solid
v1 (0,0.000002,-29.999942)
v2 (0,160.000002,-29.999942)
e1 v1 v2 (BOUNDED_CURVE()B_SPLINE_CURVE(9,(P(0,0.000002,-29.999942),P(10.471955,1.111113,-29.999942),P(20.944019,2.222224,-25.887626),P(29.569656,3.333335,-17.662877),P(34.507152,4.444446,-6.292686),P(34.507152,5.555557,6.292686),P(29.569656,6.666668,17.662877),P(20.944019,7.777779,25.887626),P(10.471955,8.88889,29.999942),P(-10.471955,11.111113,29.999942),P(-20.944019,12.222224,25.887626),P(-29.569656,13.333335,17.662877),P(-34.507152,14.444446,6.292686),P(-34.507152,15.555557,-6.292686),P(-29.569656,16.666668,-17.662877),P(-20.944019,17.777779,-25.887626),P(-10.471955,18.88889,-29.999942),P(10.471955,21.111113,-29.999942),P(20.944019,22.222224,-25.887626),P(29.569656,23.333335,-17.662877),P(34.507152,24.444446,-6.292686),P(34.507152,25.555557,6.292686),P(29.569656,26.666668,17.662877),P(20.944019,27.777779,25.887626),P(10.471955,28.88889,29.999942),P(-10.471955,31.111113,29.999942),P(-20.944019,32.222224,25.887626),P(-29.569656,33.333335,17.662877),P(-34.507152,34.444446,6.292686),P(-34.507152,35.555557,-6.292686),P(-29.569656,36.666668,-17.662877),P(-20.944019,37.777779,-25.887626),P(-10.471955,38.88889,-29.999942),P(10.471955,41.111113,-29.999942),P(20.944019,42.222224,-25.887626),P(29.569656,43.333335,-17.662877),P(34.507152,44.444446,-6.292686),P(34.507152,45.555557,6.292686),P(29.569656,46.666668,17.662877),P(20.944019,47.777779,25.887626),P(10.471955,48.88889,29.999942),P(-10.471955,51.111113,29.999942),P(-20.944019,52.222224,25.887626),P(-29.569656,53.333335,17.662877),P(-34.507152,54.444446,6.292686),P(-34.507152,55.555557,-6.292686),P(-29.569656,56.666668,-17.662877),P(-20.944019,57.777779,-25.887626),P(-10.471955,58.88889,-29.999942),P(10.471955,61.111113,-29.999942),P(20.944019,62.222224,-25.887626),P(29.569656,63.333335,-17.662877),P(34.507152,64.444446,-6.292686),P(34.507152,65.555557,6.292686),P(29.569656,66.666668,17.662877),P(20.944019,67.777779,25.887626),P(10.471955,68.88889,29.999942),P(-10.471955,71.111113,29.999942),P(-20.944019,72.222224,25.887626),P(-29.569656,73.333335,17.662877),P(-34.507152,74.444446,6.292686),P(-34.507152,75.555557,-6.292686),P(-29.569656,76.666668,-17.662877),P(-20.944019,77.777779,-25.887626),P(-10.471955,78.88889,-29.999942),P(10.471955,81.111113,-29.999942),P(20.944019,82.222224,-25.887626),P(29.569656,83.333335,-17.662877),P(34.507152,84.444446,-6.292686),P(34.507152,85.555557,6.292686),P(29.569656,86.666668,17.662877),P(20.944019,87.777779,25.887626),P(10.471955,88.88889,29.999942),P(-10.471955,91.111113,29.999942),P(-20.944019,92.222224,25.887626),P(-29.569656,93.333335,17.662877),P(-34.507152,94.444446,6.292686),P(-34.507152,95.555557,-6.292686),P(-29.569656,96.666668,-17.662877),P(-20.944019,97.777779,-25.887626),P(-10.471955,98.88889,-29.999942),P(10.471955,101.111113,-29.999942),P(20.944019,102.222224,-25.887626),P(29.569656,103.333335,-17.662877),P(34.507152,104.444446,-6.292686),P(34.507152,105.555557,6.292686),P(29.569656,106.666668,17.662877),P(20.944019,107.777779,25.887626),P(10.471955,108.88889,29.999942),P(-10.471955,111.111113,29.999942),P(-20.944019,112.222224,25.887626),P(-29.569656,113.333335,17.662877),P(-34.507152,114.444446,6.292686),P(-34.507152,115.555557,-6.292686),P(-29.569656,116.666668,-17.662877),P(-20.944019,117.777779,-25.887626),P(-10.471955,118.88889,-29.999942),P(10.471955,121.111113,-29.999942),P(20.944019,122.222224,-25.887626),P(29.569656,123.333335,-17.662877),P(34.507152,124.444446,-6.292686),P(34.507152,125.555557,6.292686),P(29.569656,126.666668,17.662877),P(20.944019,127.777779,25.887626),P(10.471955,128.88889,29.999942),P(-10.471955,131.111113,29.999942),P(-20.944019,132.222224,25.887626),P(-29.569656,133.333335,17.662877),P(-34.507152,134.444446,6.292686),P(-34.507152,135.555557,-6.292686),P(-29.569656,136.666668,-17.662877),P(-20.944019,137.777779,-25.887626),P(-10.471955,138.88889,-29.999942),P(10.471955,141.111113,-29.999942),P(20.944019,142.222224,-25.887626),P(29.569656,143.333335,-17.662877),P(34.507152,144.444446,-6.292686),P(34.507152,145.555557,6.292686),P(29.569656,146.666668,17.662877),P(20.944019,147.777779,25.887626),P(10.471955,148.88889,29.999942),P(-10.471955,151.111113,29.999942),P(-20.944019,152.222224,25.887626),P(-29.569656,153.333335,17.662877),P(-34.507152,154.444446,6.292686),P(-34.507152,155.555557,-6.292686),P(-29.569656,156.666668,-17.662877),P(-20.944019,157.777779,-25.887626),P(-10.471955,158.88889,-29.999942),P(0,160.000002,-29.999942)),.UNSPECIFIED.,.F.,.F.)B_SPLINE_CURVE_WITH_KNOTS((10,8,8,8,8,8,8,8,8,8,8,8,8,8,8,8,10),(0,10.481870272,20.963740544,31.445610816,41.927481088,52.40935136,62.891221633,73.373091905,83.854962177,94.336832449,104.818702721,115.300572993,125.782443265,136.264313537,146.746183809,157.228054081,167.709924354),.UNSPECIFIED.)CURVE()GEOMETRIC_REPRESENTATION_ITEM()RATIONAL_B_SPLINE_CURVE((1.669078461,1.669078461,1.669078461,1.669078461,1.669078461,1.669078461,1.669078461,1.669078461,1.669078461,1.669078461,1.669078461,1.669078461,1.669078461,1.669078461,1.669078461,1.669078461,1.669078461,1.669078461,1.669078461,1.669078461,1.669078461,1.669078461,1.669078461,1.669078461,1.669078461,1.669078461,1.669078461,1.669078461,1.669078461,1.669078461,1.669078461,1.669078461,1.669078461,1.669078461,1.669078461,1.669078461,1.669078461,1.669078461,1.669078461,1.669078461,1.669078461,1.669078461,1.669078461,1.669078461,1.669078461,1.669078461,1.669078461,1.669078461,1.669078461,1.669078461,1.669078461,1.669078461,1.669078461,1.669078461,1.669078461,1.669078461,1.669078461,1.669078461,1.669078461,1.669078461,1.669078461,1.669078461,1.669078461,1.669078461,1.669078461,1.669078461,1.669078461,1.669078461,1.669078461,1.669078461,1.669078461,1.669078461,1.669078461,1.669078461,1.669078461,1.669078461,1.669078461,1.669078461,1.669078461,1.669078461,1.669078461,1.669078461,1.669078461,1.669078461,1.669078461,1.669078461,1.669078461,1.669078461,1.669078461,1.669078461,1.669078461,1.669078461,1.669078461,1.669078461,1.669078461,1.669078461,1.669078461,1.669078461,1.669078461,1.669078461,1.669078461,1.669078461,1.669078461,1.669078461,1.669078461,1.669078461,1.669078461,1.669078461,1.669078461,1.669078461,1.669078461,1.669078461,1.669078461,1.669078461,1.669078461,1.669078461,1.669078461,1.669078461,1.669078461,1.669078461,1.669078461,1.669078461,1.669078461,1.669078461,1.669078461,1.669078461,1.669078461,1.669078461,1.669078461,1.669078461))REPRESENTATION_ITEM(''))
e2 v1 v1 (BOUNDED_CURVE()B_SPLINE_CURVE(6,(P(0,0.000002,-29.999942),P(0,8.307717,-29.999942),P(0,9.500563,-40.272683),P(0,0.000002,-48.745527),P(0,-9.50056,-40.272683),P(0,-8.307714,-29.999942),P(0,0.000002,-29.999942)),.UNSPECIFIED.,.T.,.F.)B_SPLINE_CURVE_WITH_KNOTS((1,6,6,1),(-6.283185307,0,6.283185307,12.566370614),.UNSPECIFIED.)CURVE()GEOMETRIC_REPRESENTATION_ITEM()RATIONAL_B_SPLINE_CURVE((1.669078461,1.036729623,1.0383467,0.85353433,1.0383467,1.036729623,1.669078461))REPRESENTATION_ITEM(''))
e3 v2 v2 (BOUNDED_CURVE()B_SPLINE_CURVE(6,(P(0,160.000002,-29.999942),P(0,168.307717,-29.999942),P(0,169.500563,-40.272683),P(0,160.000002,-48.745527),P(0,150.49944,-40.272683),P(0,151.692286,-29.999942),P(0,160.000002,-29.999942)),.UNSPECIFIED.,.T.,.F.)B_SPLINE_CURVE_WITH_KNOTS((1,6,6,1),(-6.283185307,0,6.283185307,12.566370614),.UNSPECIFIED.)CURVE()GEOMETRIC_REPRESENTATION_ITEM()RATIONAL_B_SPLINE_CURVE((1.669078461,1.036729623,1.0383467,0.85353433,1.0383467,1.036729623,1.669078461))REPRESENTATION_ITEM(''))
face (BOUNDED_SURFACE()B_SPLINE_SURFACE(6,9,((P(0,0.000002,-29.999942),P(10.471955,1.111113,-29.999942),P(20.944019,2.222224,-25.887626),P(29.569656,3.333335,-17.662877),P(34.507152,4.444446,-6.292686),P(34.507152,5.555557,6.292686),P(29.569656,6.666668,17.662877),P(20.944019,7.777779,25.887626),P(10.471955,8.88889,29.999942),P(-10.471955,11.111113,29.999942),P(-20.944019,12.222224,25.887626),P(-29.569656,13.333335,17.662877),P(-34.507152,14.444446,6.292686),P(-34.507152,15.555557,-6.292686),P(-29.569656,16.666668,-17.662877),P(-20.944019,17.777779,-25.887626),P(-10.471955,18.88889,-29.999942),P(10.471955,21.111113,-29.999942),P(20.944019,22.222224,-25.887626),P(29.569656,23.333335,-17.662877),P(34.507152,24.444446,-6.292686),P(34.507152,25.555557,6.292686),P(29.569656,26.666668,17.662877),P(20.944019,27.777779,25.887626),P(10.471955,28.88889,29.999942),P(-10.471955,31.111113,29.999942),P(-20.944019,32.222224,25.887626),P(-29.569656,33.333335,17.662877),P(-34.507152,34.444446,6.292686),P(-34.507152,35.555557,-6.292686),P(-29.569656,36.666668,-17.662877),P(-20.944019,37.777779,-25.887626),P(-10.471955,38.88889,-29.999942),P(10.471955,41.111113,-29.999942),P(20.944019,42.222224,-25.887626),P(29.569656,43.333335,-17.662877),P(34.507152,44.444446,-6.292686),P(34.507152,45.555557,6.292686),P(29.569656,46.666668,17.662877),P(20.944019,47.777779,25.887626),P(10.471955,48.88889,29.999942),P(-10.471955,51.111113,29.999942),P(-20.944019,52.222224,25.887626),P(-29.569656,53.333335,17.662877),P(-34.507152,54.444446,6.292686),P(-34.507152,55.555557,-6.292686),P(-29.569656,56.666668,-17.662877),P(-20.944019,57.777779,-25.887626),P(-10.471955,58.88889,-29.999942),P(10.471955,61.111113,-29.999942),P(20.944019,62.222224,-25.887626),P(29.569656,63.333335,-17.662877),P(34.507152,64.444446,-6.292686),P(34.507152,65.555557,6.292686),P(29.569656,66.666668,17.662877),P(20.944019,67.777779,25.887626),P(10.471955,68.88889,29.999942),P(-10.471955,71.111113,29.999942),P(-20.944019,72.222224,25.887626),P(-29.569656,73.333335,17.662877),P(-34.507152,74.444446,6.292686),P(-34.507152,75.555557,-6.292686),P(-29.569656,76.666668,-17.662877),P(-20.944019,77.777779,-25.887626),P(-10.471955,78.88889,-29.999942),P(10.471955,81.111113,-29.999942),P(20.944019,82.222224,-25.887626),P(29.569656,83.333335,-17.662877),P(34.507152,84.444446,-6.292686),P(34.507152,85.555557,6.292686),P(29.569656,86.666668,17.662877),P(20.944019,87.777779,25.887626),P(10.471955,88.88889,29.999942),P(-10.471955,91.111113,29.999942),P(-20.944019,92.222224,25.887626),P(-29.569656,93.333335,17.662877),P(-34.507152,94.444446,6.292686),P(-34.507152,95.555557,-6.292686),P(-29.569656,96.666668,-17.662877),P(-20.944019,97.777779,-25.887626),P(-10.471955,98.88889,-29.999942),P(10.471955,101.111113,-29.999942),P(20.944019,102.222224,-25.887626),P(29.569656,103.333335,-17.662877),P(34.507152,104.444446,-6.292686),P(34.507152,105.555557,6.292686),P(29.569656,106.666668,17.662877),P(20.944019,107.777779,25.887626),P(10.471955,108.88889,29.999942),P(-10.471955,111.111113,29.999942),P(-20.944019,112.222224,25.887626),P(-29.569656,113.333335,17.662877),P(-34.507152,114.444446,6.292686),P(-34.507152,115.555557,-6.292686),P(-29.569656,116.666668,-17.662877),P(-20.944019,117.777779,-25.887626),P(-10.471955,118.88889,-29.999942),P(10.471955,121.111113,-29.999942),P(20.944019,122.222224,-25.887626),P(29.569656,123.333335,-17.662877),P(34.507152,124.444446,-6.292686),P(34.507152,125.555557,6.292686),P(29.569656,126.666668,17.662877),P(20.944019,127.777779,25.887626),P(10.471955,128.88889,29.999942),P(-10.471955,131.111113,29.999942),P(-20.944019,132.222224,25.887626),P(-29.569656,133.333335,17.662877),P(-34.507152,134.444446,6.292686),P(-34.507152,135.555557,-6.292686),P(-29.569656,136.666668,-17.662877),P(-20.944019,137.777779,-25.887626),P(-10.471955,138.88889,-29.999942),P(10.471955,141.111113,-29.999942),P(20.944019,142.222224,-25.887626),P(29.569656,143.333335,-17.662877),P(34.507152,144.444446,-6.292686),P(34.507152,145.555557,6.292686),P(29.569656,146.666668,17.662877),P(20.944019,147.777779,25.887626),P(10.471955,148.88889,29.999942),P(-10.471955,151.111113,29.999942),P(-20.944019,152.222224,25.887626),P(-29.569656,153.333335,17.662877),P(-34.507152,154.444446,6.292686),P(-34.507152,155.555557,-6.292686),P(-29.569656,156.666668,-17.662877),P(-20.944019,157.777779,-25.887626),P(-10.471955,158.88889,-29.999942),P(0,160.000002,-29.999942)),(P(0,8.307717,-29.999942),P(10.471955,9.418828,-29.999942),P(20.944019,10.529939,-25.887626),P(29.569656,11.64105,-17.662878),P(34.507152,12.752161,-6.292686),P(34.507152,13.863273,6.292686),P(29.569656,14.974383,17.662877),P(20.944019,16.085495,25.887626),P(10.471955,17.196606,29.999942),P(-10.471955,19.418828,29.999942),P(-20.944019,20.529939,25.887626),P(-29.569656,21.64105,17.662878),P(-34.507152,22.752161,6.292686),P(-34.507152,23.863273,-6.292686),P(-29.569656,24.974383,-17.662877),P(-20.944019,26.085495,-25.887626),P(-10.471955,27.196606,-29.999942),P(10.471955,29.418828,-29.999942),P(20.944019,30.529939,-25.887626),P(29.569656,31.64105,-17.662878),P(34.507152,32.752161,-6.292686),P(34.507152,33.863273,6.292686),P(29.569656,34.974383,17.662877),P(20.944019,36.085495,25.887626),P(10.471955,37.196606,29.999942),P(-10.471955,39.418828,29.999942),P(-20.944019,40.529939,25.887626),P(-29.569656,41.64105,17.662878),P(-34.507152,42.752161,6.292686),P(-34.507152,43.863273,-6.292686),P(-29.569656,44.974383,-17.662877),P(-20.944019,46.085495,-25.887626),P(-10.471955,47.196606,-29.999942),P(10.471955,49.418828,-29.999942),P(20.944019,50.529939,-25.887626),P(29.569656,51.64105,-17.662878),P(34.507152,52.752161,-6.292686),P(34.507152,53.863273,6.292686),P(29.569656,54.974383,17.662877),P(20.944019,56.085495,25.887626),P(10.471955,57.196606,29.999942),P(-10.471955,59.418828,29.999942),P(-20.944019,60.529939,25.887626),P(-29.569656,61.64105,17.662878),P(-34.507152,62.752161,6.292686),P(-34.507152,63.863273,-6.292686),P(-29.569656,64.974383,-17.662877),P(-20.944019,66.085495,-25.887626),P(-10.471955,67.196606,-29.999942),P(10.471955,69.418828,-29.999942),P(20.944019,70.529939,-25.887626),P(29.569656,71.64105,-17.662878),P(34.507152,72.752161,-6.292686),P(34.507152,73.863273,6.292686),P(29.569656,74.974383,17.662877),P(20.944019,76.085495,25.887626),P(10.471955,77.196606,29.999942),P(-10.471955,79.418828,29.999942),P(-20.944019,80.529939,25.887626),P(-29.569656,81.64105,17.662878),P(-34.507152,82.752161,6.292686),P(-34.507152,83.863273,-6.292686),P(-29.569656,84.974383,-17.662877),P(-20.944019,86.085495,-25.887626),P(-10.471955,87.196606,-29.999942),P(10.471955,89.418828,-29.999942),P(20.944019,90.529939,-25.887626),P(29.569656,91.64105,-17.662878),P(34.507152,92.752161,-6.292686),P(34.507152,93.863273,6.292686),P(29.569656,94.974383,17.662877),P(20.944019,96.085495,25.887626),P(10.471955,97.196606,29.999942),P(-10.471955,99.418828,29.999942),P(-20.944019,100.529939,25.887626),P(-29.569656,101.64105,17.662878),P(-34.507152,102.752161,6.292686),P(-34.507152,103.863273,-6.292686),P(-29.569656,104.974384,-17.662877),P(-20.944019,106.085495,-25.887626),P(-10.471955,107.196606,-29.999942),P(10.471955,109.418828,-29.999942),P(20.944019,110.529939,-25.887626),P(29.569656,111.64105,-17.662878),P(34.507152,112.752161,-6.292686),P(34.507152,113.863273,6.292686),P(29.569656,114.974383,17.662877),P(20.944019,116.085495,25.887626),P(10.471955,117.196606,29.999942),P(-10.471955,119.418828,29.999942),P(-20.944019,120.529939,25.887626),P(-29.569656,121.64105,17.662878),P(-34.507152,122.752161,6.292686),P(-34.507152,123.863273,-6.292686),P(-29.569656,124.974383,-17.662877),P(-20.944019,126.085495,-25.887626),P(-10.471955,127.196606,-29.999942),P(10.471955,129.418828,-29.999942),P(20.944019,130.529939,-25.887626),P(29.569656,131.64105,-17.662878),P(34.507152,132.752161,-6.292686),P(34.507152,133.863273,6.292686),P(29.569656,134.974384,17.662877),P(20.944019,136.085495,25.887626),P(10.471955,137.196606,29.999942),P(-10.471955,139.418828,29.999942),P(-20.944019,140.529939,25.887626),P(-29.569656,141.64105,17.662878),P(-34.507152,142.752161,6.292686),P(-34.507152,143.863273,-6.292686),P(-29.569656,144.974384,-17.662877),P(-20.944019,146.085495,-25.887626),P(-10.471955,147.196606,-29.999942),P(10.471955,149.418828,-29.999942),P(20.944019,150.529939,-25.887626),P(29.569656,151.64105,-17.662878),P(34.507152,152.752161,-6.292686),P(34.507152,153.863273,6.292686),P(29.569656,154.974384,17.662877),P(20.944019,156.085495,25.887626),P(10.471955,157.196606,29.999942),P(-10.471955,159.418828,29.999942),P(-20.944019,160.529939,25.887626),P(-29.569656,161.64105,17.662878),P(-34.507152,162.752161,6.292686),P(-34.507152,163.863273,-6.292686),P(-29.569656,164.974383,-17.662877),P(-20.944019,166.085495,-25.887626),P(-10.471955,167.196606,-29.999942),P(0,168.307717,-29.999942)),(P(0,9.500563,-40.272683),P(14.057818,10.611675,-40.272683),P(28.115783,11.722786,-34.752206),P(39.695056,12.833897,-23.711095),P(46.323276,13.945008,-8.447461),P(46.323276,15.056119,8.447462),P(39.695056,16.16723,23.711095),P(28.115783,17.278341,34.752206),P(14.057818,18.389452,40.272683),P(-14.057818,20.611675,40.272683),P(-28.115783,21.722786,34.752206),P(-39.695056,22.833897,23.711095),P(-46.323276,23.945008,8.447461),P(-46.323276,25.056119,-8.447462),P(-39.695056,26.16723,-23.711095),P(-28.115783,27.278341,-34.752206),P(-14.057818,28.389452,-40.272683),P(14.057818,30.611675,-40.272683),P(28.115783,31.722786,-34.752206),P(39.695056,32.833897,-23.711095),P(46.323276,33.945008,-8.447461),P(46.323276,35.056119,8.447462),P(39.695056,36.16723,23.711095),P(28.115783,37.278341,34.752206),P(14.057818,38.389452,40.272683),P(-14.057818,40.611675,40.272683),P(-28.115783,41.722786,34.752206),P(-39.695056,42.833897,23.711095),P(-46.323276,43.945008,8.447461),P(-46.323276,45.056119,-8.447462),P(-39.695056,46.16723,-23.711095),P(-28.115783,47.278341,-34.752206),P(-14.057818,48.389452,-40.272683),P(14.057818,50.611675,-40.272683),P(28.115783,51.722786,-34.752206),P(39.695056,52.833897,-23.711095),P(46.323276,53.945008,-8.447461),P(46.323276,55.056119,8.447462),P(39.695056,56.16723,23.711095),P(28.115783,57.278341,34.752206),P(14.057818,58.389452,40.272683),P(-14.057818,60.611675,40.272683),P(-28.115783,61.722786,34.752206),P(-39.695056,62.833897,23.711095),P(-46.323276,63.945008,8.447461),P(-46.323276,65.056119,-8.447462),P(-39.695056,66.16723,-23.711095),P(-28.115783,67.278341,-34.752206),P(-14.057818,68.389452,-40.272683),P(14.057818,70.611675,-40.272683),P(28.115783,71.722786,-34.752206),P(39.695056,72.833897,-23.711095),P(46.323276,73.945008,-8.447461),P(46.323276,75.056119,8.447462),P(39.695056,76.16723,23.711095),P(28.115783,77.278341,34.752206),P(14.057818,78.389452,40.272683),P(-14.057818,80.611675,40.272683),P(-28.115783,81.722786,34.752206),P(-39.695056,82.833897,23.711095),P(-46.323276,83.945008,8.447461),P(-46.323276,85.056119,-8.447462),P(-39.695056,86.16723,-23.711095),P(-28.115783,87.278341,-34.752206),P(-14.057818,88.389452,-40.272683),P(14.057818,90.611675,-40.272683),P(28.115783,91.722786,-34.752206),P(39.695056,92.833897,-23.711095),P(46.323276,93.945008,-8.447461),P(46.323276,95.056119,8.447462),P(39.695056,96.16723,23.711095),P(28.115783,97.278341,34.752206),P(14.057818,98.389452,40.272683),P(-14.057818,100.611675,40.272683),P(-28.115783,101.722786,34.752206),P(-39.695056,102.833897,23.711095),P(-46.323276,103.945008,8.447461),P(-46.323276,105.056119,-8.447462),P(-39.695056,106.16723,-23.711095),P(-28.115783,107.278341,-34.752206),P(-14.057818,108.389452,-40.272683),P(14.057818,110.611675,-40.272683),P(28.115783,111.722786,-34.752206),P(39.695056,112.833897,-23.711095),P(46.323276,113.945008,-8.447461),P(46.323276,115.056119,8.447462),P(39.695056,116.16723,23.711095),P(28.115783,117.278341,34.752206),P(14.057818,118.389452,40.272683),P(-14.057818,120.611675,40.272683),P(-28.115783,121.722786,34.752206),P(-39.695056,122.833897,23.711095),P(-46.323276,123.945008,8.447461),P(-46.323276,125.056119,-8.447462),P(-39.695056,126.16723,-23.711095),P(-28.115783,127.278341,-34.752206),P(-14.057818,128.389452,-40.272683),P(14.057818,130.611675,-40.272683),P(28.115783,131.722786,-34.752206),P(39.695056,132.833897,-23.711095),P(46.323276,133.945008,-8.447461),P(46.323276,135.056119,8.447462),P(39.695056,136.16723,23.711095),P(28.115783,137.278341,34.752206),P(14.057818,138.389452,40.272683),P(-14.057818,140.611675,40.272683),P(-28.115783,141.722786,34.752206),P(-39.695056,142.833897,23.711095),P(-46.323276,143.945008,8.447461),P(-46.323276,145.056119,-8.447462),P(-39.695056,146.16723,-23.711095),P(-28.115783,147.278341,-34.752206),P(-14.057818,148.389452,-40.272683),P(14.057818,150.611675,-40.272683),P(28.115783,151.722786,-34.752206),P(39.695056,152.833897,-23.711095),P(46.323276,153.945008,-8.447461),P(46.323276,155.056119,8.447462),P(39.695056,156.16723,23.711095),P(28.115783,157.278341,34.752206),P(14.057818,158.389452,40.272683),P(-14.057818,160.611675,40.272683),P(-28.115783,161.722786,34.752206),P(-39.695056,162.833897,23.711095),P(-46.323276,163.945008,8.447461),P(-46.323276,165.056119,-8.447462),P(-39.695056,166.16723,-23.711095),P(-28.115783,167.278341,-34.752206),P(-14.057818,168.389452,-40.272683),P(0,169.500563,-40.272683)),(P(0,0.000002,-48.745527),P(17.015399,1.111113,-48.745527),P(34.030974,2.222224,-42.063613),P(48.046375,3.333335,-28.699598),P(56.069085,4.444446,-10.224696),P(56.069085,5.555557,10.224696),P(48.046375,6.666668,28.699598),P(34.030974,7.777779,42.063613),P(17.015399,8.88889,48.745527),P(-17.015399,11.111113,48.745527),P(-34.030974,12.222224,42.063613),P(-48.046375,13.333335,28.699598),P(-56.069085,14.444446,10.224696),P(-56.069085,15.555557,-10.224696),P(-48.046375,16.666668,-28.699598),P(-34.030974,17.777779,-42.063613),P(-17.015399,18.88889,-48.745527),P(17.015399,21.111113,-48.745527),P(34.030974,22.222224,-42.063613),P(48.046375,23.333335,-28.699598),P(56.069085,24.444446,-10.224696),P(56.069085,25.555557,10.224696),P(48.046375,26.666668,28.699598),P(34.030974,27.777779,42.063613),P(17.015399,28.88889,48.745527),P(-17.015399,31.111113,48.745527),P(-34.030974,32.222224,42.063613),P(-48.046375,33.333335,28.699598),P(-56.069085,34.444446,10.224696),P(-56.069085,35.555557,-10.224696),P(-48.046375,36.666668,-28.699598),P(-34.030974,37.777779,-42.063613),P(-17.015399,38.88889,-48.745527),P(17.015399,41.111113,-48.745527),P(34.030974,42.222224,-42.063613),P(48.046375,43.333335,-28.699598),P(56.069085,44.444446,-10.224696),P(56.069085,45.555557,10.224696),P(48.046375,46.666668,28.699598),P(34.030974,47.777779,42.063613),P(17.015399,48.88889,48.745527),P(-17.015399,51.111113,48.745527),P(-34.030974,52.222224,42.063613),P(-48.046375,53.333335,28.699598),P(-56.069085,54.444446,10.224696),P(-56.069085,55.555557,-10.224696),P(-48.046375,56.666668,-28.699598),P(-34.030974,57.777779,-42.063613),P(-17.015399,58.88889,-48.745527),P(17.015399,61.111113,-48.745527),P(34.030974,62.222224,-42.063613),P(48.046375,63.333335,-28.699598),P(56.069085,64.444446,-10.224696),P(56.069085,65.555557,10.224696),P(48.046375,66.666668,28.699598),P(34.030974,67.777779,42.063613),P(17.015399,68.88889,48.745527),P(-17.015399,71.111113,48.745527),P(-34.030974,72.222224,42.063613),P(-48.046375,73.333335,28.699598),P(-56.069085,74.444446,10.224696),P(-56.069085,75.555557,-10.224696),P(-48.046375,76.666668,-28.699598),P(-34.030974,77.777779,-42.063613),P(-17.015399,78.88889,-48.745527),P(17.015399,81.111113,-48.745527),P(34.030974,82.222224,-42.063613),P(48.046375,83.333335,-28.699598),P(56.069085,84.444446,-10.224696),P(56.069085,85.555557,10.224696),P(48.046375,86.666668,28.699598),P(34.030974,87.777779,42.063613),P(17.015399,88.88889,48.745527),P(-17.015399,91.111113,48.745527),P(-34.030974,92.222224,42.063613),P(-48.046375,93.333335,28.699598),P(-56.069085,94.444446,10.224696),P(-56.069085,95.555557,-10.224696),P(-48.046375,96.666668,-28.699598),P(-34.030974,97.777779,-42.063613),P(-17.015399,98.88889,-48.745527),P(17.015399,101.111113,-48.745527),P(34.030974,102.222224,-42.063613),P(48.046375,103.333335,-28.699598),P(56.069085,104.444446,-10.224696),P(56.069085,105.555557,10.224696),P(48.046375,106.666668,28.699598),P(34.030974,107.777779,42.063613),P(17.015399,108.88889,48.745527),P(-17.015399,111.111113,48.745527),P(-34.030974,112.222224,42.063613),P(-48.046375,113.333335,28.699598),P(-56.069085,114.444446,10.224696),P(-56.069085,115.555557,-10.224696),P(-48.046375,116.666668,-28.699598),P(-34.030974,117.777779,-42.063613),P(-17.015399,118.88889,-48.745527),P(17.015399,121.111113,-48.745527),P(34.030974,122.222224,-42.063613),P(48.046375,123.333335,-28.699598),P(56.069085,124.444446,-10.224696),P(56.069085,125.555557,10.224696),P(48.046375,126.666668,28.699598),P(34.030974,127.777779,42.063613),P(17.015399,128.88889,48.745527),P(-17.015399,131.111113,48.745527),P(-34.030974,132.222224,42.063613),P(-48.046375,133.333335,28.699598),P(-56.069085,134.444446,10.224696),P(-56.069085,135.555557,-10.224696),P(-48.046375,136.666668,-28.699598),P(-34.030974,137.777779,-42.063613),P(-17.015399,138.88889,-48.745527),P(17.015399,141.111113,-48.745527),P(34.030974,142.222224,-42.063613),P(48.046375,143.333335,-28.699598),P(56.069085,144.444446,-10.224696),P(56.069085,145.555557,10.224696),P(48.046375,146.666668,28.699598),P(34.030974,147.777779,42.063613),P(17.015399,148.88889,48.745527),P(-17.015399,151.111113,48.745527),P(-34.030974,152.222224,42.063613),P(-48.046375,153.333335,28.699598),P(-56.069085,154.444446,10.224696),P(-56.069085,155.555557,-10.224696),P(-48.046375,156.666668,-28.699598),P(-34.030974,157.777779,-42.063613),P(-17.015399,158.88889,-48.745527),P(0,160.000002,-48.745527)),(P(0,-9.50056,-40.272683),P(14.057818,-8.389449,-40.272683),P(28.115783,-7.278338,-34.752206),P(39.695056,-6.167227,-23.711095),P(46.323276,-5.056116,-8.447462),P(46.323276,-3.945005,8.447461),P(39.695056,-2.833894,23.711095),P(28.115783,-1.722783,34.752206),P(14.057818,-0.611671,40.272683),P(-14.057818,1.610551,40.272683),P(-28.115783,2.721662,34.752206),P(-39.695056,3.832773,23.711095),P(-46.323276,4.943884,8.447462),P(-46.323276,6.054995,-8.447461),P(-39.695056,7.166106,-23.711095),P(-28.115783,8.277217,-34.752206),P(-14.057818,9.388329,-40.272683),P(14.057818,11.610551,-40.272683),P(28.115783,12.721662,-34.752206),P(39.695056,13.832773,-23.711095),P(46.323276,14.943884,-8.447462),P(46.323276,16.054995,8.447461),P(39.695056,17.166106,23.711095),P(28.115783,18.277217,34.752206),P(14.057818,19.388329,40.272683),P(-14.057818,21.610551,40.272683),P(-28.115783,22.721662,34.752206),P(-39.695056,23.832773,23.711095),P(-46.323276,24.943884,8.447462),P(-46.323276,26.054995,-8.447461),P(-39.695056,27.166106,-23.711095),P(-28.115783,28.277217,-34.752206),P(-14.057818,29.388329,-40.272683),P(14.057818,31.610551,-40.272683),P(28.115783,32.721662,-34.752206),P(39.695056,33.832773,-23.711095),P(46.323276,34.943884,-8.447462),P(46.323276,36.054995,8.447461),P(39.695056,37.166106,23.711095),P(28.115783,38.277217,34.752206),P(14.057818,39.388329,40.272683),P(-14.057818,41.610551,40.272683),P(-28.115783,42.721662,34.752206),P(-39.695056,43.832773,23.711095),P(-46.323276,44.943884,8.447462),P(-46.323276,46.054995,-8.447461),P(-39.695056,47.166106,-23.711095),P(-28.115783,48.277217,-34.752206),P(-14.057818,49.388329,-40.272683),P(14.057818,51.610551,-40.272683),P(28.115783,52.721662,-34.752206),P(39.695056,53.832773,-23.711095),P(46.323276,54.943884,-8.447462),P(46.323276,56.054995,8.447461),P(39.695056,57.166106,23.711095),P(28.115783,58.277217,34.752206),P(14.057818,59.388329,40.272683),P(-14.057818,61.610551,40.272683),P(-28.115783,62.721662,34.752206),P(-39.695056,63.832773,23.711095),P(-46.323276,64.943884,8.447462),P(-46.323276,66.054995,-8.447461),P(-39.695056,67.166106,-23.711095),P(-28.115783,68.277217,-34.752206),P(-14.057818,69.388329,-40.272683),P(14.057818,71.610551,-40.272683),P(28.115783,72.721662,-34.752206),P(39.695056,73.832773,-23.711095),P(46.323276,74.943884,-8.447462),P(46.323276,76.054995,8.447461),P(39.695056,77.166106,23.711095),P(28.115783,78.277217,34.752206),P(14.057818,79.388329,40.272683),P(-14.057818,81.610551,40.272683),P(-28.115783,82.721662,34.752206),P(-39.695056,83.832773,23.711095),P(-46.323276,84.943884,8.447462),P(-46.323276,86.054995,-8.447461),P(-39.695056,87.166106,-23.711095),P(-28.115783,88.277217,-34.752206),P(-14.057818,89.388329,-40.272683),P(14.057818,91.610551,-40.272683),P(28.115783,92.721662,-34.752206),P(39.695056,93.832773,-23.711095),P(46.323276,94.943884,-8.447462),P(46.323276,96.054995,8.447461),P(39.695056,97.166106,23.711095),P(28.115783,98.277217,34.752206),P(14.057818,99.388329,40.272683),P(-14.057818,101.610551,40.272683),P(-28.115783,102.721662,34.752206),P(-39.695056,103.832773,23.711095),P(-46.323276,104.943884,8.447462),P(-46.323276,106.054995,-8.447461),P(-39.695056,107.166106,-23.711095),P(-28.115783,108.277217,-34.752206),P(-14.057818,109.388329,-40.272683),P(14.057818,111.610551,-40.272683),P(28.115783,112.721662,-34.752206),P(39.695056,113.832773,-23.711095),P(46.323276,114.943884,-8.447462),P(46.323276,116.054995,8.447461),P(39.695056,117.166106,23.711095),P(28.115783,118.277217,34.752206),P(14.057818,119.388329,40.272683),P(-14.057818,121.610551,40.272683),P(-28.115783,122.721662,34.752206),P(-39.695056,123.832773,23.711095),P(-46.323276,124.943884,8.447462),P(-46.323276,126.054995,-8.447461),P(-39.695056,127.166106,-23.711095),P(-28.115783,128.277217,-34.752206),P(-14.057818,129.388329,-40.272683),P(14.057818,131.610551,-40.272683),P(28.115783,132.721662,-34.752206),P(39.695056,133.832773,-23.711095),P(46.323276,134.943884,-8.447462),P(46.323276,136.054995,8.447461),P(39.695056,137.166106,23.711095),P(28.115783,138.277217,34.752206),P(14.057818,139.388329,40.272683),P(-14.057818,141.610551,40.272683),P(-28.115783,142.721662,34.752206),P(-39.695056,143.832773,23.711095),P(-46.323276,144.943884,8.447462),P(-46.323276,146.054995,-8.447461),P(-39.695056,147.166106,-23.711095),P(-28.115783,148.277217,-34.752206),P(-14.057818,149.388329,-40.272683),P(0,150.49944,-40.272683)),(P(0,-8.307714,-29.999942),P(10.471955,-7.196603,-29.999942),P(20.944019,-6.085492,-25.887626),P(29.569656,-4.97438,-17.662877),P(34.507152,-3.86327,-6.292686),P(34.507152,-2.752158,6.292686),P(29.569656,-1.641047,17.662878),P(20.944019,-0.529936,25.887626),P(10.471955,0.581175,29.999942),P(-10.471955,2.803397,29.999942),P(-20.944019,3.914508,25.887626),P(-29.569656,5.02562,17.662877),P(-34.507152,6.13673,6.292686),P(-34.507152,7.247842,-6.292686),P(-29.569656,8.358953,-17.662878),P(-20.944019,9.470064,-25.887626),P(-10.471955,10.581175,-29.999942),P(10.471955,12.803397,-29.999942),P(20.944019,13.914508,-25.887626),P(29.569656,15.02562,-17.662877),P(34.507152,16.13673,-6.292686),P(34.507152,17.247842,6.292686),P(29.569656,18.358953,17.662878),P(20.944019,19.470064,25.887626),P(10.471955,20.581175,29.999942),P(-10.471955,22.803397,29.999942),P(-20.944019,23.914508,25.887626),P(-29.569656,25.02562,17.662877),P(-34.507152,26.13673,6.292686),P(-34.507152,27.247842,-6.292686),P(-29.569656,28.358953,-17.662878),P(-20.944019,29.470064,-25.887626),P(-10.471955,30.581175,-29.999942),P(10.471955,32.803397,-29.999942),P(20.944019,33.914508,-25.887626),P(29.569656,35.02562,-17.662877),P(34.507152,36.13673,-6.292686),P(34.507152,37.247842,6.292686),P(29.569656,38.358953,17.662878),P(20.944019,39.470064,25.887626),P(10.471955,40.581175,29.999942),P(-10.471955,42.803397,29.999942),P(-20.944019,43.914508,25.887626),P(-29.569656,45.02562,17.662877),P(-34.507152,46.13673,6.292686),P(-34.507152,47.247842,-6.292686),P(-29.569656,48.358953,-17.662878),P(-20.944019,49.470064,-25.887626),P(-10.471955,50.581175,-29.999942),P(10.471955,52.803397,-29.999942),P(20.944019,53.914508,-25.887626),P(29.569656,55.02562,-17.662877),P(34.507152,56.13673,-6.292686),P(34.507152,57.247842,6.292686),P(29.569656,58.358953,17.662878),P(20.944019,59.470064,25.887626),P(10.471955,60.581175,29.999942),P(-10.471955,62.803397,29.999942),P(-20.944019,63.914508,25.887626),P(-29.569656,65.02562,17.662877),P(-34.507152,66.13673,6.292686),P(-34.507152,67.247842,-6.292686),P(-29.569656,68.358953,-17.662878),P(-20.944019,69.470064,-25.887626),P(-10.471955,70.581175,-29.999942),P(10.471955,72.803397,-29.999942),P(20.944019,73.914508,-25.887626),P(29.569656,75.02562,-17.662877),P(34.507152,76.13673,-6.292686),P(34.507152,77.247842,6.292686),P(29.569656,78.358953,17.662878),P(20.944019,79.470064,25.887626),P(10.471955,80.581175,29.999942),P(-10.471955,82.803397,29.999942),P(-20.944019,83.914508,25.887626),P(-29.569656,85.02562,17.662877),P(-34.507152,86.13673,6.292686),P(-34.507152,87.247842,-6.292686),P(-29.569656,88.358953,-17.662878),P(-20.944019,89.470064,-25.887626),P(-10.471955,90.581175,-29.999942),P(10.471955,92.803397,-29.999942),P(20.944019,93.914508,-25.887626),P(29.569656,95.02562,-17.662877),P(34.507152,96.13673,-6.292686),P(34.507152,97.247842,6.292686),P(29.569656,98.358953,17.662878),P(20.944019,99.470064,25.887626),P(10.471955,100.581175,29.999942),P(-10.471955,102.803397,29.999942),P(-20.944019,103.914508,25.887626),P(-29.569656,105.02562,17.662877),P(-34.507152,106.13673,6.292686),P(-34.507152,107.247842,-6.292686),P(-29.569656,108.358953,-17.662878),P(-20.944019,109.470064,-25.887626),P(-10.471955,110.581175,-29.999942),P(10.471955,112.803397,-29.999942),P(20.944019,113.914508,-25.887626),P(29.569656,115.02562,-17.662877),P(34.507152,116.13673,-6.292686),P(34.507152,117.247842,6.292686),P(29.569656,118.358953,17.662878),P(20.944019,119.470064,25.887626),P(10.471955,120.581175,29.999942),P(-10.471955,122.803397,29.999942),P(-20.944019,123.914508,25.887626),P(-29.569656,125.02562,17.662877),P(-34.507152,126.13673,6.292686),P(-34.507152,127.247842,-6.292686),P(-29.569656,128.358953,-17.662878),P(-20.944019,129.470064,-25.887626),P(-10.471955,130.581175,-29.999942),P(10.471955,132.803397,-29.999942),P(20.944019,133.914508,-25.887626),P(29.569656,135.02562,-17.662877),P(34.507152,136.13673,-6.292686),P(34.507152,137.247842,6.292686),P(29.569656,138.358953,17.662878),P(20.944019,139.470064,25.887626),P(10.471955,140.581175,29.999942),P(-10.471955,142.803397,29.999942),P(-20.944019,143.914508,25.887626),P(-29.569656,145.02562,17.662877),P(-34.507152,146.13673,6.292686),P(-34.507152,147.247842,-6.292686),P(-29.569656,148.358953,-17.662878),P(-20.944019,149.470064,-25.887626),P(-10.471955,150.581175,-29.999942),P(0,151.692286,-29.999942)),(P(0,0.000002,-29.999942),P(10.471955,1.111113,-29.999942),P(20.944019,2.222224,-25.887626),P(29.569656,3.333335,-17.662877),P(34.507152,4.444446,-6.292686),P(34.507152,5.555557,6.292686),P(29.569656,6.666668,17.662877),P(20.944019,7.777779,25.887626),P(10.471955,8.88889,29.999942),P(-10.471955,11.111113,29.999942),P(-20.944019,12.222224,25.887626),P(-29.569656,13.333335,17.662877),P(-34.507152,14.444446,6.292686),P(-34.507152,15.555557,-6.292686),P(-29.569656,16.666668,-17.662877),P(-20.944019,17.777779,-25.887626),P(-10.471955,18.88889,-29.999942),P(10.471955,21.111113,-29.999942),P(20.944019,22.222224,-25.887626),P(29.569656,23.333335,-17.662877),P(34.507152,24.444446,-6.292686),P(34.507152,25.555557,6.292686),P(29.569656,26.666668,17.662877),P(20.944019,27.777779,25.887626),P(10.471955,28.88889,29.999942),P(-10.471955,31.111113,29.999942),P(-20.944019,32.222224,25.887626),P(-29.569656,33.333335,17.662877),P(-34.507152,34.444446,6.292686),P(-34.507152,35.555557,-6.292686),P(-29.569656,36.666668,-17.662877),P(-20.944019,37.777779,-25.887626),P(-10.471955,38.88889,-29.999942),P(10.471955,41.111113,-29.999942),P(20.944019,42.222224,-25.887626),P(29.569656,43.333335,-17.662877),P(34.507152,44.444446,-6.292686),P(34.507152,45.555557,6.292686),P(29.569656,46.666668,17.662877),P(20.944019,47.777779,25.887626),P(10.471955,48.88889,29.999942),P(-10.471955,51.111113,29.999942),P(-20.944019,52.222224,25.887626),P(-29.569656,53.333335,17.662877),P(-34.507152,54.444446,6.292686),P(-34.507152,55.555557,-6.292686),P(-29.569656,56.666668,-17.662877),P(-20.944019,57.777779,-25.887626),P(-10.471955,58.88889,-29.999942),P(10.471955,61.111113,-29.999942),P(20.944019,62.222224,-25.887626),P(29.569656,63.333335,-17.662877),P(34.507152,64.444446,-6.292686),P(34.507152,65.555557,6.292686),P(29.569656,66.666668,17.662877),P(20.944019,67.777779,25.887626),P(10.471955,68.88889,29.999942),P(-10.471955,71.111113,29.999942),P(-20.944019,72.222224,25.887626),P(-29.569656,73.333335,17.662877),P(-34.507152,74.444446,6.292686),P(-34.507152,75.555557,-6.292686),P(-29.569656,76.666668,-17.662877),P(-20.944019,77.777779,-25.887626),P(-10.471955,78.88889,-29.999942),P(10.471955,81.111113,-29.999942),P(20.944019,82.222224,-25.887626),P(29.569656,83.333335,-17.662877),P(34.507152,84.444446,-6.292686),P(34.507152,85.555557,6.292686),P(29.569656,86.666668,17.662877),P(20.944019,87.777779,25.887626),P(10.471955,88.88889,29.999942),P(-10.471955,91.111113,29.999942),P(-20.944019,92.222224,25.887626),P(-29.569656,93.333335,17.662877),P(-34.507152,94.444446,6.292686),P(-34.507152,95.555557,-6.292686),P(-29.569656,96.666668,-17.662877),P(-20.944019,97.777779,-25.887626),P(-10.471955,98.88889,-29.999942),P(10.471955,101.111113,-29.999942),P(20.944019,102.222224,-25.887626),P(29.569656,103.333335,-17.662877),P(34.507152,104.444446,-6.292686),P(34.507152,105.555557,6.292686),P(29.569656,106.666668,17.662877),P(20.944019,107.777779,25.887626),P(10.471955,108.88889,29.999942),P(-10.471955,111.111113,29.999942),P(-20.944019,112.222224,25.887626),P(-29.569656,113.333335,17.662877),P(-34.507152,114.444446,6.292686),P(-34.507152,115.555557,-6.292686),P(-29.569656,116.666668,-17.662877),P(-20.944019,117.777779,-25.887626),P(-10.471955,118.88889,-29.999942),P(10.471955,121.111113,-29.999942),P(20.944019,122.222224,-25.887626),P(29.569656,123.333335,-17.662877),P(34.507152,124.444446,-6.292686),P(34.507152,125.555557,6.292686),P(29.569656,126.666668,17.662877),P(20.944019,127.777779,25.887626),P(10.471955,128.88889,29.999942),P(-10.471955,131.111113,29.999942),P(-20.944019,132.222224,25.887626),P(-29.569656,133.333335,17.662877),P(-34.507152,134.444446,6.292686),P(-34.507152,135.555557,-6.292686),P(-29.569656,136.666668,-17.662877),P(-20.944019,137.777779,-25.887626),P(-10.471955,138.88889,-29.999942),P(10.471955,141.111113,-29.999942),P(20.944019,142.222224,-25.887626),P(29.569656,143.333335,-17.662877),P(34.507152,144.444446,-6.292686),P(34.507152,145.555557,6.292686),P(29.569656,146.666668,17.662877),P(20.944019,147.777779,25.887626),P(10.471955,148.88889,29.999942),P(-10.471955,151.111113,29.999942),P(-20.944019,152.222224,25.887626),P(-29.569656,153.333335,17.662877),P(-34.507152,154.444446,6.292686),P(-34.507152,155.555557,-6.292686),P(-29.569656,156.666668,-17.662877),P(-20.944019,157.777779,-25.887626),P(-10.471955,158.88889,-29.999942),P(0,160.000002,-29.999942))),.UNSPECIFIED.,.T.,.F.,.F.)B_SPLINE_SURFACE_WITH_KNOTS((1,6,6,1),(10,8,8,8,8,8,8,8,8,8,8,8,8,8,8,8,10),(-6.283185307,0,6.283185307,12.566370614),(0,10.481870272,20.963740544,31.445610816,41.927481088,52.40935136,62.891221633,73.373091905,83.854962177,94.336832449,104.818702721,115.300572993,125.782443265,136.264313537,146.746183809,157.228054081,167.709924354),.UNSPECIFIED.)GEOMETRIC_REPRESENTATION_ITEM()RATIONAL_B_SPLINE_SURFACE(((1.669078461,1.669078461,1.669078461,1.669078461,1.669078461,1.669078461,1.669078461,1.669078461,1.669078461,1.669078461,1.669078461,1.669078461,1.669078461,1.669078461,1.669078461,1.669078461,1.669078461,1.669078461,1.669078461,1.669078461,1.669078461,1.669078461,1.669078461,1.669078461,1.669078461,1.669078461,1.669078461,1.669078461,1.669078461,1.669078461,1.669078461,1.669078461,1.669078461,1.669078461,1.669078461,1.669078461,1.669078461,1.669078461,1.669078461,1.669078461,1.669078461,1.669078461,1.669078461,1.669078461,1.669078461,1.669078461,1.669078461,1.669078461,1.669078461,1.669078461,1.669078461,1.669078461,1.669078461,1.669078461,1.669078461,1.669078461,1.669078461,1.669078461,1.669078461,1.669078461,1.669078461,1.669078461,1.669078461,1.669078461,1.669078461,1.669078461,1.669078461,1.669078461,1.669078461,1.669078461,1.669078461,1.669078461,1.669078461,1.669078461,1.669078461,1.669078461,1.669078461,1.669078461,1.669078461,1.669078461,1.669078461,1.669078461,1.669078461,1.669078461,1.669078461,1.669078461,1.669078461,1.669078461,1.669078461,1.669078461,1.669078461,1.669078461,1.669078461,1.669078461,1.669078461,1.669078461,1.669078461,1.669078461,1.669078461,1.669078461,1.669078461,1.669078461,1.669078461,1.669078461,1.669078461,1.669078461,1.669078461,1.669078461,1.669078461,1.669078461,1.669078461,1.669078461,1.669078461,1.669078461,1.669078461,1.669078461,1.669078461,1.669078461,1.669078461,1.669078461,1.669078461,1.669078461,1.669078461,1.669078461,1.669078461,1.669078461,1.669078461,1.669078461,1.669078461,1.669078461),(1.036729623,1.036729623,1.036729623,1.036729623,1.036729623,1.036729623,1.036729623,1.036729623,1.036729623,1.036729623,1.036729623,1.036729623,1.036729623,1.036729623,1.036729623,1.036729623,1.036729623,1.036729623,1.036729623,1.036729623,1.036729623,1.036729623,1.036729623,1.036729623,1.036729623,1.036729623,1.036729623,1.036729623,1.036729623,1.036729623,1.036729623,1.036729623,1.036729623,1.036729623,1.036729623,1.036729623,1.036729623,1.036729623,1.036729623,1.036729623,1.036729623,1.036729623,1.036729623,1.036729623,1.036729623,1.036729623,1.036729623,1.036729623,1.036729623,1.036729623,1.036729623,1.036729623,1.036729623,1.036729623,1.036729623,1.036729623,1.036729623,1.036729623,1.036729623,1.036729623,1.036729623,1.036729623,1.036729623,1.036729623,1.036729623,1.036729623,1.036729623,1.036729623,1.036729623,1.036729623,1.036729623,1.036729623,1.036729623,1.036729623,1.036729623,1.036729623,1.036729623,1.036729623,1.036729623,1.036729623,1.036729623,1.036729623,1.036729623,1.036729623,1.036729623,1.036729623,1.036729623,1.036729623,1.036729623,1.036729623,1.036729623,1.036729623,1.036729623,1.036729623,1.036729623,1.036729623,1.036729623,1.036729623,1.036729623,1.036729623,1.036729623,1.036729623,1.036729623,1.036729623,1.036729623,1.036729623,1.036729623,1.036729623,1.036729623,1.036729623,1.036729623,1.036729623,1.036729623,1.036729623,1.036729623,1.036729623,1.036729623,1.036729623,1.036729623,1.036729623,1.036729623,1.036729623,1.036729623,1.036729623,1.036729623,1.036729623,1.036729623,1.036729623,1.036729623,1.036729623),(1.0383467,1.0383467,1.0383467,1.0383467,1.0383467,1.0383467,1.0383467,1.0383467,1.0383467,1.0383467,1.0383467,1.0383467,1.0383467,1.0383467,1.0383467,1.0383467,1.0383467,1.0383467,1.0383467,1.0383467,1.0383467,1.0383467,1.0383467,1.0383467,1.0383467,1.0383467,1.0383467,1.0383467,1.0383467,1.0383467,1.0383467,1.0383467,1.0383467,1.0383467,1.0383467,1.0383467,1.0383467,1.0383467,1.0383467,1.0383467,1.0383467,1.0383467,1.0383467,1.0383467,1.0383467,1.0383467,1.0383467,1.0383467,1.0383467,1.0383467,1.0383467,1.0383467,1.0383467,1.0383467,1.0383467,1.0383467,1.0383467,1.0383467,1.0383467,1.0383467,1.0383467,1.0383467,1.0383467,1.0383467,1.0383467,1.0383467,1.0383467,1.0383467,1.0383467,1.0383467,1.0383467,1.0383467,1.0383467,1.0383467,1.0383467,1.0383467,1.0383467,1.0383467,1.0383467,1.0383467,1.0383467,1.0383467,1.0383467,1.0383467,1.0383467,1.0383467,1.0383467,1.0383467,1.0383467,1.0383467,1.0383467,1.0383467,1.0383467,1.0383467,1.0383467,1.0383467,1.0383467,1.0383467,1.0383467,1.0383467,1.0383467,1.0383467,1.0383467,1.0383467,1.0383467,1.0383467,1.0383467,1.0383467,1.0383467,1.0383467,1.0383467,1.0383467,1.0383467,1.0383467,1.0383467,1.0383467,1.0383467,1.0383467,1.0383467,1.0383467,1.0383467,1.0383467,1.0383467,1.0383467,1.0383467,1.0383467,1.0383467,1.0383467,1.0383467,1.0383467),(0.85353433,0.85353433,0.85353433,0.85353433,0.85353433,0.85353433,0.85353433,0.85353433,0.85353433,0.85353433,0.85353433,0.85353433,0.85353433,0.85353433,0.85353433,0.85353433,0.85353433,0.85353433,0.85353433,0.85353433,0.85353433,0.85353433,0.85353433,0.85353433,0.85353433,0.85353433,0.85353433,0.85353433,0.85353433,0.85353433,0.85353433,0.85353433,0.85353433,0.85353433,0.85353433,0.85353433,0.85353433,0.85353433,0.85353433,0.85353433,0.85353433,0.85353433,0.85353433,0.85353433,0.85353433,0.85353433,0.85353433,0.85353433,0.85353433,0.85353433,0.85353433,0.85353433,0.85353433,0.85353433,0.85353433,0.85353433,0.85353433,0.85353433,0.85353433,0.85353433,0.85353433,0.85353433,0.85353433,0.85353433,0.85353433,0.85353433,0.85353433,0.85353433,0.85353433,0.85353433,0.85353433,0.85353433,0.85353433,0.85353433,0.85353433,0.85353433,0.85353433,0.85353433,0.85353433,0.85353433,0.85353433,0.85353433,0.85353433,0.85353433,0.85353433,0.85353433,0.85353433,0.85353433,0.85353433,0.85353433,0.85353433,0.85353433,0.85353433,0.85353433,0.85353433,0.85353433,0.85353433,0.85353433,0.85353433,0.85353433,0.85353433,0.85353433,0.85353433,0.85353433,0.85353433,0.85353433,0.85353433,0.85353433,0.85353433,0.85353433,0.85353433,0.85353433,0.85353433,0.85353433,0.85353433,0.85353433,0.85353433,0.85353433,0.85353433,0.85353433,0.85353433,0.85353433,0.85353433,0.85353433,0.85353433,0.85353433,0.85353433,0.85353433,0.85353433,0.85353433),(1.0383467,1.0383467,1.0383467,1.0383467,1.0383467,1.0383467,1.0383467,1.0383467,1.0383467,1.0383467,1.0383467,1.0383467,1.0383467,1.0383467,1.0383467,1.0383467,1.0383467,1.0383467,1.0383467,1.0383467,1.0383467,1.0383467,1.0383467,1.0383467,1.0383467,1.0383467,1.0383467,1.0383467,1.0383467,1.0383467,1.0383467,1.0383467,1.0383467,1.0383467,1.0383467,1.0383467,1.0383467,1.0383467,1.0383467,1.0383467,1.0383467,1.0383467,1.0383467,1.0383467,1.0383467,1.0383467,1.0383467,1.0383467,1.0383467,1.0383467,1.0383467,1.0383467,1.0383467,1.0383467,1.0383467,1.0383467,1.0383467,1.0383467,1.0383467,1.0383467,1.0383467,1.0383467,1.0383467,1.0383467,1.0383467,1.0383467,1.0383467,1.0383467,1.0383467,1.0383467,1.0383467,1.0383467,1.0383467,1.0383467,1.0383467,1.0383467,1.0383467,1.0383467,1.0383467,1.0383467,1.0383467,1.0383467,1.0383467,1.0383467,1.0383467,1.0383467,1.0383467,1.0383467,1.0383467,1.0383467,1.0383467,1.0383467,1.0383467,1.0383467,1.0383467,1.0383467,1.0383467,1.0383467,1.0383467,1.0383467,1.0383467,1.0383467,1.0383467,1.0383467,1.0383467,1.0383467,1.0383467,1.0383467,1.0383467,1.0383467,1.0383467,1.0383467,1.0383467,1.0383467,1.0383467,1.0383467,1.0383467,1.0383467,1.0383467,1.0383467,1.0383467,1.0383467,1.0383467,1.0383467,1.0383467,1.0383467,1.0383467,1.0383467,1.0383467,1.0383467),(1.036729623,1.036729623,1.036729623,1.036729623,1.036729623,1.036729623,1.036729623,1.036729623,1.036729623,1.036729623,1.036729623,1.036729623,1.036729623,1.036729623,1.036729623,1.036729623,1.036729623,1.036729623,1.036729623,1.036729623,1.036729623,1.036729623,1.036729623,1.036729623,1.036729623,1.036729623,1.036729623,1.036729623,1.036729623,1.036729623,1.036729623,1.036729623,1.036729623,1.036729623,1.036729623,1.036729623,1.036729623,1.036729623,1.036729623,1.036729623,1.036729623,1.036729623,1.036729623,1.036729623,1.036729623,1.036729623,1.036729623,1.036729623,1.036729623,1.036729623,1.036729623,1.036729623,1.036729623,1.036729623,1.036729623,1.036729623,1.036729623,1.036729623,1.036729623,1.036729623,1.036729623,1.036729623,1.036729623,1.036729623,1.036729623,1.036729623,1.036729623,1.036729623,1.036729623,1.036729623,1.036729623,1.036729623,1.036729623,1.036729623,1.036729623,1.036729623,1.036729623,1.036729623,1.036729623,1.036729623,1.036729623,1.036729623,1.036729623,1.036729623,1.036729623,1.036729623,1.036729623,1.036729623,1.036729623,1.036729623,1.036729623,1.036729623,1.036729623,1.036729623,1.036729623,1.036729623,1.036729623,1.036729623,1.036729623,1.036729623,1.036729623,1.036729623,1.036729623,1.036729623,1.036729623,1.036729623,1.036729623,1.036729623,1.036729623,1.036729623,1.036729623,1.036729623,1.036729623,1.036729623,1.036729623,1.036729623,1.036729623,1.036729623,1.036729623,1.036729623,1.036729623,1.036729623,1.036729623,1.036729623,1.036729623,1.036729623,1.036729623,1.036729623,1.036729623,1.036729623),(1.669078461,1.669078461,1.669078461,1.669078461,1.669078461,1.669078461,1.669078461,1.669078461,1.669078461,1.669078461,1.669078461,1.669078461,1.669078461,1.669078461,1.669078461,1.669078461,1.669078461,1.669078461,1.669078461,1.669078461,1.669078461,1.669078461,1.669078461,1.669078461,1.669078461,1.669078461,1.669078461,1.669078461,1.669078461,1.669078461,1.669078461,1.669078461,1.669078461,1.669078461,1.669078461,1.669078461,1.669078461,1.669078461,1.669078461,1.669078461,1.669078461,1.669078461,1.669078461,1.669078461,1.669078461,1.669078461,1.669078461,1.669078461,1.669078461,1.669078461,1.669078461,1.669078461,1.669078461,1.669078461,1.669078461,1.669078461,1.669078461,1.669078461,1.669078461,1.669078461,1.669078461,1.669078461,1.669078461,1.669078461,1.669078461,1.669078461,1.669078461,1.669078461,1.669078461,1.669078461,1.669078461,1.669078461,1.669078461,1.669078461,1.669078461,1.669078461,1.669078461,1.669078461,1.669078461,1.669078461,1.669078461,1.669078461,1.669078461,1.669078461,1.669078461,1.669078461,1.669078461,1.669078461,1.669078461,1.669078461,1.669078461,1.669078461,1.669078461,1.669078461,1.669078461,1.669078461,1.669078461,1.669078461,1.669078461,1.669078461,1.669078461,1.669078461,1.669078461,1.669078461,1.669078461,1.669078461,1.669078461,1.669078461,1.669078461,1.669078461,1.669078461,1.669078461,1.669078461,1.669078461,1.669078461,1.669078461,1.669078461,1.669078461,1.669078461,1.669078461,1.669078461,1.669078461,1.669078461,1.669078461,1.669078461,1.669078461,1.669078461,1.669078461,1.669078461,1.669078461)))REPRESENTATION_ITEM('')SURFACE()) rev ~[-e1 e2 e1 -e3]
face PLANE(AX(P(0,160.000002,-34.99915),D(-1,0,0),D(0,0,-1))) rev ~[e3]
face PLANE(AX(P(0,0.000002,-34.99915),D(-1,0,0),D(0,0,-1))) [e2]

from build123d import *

# Parameters (mm, degrees)
SWEEP3_PITCH       = 20
SWEEP3_HEIGHT      = 160
SWEEP3_RADIUS      = 35
SWEEP3_START_ANGLE = -180
SKETCH5_R          = 5


with BuildPart() as part:
    # Sweep3: sweep along a helix
    with BuildLine() as sweep3_path:
        add(Helix(SWEEP3_PITCH, SWEEP3_HEIGHT, SWEEP3_RADIUS, center=(0, 0, 0), direction=(0, 1, 0), lefthand=True, mode=Mode.PRIVATE).rotate(Axis((0, 0, 0), (0, 1, 0)), SWEEP3_START_ANGLE))
    # Sketch5 → Sweep3 (sweep)
    with BuildSketch(Plane(origin=(0, 0, 0), x_dir=(0, 0, -1), z_dir=(1, 0, 0))):
        with Locations((-34.999942063, 10.000001524)):
            Circle(SKETCH5_R)
    sweep(path=sweep3_path.line, is_frenet=True)


solid = part.part
